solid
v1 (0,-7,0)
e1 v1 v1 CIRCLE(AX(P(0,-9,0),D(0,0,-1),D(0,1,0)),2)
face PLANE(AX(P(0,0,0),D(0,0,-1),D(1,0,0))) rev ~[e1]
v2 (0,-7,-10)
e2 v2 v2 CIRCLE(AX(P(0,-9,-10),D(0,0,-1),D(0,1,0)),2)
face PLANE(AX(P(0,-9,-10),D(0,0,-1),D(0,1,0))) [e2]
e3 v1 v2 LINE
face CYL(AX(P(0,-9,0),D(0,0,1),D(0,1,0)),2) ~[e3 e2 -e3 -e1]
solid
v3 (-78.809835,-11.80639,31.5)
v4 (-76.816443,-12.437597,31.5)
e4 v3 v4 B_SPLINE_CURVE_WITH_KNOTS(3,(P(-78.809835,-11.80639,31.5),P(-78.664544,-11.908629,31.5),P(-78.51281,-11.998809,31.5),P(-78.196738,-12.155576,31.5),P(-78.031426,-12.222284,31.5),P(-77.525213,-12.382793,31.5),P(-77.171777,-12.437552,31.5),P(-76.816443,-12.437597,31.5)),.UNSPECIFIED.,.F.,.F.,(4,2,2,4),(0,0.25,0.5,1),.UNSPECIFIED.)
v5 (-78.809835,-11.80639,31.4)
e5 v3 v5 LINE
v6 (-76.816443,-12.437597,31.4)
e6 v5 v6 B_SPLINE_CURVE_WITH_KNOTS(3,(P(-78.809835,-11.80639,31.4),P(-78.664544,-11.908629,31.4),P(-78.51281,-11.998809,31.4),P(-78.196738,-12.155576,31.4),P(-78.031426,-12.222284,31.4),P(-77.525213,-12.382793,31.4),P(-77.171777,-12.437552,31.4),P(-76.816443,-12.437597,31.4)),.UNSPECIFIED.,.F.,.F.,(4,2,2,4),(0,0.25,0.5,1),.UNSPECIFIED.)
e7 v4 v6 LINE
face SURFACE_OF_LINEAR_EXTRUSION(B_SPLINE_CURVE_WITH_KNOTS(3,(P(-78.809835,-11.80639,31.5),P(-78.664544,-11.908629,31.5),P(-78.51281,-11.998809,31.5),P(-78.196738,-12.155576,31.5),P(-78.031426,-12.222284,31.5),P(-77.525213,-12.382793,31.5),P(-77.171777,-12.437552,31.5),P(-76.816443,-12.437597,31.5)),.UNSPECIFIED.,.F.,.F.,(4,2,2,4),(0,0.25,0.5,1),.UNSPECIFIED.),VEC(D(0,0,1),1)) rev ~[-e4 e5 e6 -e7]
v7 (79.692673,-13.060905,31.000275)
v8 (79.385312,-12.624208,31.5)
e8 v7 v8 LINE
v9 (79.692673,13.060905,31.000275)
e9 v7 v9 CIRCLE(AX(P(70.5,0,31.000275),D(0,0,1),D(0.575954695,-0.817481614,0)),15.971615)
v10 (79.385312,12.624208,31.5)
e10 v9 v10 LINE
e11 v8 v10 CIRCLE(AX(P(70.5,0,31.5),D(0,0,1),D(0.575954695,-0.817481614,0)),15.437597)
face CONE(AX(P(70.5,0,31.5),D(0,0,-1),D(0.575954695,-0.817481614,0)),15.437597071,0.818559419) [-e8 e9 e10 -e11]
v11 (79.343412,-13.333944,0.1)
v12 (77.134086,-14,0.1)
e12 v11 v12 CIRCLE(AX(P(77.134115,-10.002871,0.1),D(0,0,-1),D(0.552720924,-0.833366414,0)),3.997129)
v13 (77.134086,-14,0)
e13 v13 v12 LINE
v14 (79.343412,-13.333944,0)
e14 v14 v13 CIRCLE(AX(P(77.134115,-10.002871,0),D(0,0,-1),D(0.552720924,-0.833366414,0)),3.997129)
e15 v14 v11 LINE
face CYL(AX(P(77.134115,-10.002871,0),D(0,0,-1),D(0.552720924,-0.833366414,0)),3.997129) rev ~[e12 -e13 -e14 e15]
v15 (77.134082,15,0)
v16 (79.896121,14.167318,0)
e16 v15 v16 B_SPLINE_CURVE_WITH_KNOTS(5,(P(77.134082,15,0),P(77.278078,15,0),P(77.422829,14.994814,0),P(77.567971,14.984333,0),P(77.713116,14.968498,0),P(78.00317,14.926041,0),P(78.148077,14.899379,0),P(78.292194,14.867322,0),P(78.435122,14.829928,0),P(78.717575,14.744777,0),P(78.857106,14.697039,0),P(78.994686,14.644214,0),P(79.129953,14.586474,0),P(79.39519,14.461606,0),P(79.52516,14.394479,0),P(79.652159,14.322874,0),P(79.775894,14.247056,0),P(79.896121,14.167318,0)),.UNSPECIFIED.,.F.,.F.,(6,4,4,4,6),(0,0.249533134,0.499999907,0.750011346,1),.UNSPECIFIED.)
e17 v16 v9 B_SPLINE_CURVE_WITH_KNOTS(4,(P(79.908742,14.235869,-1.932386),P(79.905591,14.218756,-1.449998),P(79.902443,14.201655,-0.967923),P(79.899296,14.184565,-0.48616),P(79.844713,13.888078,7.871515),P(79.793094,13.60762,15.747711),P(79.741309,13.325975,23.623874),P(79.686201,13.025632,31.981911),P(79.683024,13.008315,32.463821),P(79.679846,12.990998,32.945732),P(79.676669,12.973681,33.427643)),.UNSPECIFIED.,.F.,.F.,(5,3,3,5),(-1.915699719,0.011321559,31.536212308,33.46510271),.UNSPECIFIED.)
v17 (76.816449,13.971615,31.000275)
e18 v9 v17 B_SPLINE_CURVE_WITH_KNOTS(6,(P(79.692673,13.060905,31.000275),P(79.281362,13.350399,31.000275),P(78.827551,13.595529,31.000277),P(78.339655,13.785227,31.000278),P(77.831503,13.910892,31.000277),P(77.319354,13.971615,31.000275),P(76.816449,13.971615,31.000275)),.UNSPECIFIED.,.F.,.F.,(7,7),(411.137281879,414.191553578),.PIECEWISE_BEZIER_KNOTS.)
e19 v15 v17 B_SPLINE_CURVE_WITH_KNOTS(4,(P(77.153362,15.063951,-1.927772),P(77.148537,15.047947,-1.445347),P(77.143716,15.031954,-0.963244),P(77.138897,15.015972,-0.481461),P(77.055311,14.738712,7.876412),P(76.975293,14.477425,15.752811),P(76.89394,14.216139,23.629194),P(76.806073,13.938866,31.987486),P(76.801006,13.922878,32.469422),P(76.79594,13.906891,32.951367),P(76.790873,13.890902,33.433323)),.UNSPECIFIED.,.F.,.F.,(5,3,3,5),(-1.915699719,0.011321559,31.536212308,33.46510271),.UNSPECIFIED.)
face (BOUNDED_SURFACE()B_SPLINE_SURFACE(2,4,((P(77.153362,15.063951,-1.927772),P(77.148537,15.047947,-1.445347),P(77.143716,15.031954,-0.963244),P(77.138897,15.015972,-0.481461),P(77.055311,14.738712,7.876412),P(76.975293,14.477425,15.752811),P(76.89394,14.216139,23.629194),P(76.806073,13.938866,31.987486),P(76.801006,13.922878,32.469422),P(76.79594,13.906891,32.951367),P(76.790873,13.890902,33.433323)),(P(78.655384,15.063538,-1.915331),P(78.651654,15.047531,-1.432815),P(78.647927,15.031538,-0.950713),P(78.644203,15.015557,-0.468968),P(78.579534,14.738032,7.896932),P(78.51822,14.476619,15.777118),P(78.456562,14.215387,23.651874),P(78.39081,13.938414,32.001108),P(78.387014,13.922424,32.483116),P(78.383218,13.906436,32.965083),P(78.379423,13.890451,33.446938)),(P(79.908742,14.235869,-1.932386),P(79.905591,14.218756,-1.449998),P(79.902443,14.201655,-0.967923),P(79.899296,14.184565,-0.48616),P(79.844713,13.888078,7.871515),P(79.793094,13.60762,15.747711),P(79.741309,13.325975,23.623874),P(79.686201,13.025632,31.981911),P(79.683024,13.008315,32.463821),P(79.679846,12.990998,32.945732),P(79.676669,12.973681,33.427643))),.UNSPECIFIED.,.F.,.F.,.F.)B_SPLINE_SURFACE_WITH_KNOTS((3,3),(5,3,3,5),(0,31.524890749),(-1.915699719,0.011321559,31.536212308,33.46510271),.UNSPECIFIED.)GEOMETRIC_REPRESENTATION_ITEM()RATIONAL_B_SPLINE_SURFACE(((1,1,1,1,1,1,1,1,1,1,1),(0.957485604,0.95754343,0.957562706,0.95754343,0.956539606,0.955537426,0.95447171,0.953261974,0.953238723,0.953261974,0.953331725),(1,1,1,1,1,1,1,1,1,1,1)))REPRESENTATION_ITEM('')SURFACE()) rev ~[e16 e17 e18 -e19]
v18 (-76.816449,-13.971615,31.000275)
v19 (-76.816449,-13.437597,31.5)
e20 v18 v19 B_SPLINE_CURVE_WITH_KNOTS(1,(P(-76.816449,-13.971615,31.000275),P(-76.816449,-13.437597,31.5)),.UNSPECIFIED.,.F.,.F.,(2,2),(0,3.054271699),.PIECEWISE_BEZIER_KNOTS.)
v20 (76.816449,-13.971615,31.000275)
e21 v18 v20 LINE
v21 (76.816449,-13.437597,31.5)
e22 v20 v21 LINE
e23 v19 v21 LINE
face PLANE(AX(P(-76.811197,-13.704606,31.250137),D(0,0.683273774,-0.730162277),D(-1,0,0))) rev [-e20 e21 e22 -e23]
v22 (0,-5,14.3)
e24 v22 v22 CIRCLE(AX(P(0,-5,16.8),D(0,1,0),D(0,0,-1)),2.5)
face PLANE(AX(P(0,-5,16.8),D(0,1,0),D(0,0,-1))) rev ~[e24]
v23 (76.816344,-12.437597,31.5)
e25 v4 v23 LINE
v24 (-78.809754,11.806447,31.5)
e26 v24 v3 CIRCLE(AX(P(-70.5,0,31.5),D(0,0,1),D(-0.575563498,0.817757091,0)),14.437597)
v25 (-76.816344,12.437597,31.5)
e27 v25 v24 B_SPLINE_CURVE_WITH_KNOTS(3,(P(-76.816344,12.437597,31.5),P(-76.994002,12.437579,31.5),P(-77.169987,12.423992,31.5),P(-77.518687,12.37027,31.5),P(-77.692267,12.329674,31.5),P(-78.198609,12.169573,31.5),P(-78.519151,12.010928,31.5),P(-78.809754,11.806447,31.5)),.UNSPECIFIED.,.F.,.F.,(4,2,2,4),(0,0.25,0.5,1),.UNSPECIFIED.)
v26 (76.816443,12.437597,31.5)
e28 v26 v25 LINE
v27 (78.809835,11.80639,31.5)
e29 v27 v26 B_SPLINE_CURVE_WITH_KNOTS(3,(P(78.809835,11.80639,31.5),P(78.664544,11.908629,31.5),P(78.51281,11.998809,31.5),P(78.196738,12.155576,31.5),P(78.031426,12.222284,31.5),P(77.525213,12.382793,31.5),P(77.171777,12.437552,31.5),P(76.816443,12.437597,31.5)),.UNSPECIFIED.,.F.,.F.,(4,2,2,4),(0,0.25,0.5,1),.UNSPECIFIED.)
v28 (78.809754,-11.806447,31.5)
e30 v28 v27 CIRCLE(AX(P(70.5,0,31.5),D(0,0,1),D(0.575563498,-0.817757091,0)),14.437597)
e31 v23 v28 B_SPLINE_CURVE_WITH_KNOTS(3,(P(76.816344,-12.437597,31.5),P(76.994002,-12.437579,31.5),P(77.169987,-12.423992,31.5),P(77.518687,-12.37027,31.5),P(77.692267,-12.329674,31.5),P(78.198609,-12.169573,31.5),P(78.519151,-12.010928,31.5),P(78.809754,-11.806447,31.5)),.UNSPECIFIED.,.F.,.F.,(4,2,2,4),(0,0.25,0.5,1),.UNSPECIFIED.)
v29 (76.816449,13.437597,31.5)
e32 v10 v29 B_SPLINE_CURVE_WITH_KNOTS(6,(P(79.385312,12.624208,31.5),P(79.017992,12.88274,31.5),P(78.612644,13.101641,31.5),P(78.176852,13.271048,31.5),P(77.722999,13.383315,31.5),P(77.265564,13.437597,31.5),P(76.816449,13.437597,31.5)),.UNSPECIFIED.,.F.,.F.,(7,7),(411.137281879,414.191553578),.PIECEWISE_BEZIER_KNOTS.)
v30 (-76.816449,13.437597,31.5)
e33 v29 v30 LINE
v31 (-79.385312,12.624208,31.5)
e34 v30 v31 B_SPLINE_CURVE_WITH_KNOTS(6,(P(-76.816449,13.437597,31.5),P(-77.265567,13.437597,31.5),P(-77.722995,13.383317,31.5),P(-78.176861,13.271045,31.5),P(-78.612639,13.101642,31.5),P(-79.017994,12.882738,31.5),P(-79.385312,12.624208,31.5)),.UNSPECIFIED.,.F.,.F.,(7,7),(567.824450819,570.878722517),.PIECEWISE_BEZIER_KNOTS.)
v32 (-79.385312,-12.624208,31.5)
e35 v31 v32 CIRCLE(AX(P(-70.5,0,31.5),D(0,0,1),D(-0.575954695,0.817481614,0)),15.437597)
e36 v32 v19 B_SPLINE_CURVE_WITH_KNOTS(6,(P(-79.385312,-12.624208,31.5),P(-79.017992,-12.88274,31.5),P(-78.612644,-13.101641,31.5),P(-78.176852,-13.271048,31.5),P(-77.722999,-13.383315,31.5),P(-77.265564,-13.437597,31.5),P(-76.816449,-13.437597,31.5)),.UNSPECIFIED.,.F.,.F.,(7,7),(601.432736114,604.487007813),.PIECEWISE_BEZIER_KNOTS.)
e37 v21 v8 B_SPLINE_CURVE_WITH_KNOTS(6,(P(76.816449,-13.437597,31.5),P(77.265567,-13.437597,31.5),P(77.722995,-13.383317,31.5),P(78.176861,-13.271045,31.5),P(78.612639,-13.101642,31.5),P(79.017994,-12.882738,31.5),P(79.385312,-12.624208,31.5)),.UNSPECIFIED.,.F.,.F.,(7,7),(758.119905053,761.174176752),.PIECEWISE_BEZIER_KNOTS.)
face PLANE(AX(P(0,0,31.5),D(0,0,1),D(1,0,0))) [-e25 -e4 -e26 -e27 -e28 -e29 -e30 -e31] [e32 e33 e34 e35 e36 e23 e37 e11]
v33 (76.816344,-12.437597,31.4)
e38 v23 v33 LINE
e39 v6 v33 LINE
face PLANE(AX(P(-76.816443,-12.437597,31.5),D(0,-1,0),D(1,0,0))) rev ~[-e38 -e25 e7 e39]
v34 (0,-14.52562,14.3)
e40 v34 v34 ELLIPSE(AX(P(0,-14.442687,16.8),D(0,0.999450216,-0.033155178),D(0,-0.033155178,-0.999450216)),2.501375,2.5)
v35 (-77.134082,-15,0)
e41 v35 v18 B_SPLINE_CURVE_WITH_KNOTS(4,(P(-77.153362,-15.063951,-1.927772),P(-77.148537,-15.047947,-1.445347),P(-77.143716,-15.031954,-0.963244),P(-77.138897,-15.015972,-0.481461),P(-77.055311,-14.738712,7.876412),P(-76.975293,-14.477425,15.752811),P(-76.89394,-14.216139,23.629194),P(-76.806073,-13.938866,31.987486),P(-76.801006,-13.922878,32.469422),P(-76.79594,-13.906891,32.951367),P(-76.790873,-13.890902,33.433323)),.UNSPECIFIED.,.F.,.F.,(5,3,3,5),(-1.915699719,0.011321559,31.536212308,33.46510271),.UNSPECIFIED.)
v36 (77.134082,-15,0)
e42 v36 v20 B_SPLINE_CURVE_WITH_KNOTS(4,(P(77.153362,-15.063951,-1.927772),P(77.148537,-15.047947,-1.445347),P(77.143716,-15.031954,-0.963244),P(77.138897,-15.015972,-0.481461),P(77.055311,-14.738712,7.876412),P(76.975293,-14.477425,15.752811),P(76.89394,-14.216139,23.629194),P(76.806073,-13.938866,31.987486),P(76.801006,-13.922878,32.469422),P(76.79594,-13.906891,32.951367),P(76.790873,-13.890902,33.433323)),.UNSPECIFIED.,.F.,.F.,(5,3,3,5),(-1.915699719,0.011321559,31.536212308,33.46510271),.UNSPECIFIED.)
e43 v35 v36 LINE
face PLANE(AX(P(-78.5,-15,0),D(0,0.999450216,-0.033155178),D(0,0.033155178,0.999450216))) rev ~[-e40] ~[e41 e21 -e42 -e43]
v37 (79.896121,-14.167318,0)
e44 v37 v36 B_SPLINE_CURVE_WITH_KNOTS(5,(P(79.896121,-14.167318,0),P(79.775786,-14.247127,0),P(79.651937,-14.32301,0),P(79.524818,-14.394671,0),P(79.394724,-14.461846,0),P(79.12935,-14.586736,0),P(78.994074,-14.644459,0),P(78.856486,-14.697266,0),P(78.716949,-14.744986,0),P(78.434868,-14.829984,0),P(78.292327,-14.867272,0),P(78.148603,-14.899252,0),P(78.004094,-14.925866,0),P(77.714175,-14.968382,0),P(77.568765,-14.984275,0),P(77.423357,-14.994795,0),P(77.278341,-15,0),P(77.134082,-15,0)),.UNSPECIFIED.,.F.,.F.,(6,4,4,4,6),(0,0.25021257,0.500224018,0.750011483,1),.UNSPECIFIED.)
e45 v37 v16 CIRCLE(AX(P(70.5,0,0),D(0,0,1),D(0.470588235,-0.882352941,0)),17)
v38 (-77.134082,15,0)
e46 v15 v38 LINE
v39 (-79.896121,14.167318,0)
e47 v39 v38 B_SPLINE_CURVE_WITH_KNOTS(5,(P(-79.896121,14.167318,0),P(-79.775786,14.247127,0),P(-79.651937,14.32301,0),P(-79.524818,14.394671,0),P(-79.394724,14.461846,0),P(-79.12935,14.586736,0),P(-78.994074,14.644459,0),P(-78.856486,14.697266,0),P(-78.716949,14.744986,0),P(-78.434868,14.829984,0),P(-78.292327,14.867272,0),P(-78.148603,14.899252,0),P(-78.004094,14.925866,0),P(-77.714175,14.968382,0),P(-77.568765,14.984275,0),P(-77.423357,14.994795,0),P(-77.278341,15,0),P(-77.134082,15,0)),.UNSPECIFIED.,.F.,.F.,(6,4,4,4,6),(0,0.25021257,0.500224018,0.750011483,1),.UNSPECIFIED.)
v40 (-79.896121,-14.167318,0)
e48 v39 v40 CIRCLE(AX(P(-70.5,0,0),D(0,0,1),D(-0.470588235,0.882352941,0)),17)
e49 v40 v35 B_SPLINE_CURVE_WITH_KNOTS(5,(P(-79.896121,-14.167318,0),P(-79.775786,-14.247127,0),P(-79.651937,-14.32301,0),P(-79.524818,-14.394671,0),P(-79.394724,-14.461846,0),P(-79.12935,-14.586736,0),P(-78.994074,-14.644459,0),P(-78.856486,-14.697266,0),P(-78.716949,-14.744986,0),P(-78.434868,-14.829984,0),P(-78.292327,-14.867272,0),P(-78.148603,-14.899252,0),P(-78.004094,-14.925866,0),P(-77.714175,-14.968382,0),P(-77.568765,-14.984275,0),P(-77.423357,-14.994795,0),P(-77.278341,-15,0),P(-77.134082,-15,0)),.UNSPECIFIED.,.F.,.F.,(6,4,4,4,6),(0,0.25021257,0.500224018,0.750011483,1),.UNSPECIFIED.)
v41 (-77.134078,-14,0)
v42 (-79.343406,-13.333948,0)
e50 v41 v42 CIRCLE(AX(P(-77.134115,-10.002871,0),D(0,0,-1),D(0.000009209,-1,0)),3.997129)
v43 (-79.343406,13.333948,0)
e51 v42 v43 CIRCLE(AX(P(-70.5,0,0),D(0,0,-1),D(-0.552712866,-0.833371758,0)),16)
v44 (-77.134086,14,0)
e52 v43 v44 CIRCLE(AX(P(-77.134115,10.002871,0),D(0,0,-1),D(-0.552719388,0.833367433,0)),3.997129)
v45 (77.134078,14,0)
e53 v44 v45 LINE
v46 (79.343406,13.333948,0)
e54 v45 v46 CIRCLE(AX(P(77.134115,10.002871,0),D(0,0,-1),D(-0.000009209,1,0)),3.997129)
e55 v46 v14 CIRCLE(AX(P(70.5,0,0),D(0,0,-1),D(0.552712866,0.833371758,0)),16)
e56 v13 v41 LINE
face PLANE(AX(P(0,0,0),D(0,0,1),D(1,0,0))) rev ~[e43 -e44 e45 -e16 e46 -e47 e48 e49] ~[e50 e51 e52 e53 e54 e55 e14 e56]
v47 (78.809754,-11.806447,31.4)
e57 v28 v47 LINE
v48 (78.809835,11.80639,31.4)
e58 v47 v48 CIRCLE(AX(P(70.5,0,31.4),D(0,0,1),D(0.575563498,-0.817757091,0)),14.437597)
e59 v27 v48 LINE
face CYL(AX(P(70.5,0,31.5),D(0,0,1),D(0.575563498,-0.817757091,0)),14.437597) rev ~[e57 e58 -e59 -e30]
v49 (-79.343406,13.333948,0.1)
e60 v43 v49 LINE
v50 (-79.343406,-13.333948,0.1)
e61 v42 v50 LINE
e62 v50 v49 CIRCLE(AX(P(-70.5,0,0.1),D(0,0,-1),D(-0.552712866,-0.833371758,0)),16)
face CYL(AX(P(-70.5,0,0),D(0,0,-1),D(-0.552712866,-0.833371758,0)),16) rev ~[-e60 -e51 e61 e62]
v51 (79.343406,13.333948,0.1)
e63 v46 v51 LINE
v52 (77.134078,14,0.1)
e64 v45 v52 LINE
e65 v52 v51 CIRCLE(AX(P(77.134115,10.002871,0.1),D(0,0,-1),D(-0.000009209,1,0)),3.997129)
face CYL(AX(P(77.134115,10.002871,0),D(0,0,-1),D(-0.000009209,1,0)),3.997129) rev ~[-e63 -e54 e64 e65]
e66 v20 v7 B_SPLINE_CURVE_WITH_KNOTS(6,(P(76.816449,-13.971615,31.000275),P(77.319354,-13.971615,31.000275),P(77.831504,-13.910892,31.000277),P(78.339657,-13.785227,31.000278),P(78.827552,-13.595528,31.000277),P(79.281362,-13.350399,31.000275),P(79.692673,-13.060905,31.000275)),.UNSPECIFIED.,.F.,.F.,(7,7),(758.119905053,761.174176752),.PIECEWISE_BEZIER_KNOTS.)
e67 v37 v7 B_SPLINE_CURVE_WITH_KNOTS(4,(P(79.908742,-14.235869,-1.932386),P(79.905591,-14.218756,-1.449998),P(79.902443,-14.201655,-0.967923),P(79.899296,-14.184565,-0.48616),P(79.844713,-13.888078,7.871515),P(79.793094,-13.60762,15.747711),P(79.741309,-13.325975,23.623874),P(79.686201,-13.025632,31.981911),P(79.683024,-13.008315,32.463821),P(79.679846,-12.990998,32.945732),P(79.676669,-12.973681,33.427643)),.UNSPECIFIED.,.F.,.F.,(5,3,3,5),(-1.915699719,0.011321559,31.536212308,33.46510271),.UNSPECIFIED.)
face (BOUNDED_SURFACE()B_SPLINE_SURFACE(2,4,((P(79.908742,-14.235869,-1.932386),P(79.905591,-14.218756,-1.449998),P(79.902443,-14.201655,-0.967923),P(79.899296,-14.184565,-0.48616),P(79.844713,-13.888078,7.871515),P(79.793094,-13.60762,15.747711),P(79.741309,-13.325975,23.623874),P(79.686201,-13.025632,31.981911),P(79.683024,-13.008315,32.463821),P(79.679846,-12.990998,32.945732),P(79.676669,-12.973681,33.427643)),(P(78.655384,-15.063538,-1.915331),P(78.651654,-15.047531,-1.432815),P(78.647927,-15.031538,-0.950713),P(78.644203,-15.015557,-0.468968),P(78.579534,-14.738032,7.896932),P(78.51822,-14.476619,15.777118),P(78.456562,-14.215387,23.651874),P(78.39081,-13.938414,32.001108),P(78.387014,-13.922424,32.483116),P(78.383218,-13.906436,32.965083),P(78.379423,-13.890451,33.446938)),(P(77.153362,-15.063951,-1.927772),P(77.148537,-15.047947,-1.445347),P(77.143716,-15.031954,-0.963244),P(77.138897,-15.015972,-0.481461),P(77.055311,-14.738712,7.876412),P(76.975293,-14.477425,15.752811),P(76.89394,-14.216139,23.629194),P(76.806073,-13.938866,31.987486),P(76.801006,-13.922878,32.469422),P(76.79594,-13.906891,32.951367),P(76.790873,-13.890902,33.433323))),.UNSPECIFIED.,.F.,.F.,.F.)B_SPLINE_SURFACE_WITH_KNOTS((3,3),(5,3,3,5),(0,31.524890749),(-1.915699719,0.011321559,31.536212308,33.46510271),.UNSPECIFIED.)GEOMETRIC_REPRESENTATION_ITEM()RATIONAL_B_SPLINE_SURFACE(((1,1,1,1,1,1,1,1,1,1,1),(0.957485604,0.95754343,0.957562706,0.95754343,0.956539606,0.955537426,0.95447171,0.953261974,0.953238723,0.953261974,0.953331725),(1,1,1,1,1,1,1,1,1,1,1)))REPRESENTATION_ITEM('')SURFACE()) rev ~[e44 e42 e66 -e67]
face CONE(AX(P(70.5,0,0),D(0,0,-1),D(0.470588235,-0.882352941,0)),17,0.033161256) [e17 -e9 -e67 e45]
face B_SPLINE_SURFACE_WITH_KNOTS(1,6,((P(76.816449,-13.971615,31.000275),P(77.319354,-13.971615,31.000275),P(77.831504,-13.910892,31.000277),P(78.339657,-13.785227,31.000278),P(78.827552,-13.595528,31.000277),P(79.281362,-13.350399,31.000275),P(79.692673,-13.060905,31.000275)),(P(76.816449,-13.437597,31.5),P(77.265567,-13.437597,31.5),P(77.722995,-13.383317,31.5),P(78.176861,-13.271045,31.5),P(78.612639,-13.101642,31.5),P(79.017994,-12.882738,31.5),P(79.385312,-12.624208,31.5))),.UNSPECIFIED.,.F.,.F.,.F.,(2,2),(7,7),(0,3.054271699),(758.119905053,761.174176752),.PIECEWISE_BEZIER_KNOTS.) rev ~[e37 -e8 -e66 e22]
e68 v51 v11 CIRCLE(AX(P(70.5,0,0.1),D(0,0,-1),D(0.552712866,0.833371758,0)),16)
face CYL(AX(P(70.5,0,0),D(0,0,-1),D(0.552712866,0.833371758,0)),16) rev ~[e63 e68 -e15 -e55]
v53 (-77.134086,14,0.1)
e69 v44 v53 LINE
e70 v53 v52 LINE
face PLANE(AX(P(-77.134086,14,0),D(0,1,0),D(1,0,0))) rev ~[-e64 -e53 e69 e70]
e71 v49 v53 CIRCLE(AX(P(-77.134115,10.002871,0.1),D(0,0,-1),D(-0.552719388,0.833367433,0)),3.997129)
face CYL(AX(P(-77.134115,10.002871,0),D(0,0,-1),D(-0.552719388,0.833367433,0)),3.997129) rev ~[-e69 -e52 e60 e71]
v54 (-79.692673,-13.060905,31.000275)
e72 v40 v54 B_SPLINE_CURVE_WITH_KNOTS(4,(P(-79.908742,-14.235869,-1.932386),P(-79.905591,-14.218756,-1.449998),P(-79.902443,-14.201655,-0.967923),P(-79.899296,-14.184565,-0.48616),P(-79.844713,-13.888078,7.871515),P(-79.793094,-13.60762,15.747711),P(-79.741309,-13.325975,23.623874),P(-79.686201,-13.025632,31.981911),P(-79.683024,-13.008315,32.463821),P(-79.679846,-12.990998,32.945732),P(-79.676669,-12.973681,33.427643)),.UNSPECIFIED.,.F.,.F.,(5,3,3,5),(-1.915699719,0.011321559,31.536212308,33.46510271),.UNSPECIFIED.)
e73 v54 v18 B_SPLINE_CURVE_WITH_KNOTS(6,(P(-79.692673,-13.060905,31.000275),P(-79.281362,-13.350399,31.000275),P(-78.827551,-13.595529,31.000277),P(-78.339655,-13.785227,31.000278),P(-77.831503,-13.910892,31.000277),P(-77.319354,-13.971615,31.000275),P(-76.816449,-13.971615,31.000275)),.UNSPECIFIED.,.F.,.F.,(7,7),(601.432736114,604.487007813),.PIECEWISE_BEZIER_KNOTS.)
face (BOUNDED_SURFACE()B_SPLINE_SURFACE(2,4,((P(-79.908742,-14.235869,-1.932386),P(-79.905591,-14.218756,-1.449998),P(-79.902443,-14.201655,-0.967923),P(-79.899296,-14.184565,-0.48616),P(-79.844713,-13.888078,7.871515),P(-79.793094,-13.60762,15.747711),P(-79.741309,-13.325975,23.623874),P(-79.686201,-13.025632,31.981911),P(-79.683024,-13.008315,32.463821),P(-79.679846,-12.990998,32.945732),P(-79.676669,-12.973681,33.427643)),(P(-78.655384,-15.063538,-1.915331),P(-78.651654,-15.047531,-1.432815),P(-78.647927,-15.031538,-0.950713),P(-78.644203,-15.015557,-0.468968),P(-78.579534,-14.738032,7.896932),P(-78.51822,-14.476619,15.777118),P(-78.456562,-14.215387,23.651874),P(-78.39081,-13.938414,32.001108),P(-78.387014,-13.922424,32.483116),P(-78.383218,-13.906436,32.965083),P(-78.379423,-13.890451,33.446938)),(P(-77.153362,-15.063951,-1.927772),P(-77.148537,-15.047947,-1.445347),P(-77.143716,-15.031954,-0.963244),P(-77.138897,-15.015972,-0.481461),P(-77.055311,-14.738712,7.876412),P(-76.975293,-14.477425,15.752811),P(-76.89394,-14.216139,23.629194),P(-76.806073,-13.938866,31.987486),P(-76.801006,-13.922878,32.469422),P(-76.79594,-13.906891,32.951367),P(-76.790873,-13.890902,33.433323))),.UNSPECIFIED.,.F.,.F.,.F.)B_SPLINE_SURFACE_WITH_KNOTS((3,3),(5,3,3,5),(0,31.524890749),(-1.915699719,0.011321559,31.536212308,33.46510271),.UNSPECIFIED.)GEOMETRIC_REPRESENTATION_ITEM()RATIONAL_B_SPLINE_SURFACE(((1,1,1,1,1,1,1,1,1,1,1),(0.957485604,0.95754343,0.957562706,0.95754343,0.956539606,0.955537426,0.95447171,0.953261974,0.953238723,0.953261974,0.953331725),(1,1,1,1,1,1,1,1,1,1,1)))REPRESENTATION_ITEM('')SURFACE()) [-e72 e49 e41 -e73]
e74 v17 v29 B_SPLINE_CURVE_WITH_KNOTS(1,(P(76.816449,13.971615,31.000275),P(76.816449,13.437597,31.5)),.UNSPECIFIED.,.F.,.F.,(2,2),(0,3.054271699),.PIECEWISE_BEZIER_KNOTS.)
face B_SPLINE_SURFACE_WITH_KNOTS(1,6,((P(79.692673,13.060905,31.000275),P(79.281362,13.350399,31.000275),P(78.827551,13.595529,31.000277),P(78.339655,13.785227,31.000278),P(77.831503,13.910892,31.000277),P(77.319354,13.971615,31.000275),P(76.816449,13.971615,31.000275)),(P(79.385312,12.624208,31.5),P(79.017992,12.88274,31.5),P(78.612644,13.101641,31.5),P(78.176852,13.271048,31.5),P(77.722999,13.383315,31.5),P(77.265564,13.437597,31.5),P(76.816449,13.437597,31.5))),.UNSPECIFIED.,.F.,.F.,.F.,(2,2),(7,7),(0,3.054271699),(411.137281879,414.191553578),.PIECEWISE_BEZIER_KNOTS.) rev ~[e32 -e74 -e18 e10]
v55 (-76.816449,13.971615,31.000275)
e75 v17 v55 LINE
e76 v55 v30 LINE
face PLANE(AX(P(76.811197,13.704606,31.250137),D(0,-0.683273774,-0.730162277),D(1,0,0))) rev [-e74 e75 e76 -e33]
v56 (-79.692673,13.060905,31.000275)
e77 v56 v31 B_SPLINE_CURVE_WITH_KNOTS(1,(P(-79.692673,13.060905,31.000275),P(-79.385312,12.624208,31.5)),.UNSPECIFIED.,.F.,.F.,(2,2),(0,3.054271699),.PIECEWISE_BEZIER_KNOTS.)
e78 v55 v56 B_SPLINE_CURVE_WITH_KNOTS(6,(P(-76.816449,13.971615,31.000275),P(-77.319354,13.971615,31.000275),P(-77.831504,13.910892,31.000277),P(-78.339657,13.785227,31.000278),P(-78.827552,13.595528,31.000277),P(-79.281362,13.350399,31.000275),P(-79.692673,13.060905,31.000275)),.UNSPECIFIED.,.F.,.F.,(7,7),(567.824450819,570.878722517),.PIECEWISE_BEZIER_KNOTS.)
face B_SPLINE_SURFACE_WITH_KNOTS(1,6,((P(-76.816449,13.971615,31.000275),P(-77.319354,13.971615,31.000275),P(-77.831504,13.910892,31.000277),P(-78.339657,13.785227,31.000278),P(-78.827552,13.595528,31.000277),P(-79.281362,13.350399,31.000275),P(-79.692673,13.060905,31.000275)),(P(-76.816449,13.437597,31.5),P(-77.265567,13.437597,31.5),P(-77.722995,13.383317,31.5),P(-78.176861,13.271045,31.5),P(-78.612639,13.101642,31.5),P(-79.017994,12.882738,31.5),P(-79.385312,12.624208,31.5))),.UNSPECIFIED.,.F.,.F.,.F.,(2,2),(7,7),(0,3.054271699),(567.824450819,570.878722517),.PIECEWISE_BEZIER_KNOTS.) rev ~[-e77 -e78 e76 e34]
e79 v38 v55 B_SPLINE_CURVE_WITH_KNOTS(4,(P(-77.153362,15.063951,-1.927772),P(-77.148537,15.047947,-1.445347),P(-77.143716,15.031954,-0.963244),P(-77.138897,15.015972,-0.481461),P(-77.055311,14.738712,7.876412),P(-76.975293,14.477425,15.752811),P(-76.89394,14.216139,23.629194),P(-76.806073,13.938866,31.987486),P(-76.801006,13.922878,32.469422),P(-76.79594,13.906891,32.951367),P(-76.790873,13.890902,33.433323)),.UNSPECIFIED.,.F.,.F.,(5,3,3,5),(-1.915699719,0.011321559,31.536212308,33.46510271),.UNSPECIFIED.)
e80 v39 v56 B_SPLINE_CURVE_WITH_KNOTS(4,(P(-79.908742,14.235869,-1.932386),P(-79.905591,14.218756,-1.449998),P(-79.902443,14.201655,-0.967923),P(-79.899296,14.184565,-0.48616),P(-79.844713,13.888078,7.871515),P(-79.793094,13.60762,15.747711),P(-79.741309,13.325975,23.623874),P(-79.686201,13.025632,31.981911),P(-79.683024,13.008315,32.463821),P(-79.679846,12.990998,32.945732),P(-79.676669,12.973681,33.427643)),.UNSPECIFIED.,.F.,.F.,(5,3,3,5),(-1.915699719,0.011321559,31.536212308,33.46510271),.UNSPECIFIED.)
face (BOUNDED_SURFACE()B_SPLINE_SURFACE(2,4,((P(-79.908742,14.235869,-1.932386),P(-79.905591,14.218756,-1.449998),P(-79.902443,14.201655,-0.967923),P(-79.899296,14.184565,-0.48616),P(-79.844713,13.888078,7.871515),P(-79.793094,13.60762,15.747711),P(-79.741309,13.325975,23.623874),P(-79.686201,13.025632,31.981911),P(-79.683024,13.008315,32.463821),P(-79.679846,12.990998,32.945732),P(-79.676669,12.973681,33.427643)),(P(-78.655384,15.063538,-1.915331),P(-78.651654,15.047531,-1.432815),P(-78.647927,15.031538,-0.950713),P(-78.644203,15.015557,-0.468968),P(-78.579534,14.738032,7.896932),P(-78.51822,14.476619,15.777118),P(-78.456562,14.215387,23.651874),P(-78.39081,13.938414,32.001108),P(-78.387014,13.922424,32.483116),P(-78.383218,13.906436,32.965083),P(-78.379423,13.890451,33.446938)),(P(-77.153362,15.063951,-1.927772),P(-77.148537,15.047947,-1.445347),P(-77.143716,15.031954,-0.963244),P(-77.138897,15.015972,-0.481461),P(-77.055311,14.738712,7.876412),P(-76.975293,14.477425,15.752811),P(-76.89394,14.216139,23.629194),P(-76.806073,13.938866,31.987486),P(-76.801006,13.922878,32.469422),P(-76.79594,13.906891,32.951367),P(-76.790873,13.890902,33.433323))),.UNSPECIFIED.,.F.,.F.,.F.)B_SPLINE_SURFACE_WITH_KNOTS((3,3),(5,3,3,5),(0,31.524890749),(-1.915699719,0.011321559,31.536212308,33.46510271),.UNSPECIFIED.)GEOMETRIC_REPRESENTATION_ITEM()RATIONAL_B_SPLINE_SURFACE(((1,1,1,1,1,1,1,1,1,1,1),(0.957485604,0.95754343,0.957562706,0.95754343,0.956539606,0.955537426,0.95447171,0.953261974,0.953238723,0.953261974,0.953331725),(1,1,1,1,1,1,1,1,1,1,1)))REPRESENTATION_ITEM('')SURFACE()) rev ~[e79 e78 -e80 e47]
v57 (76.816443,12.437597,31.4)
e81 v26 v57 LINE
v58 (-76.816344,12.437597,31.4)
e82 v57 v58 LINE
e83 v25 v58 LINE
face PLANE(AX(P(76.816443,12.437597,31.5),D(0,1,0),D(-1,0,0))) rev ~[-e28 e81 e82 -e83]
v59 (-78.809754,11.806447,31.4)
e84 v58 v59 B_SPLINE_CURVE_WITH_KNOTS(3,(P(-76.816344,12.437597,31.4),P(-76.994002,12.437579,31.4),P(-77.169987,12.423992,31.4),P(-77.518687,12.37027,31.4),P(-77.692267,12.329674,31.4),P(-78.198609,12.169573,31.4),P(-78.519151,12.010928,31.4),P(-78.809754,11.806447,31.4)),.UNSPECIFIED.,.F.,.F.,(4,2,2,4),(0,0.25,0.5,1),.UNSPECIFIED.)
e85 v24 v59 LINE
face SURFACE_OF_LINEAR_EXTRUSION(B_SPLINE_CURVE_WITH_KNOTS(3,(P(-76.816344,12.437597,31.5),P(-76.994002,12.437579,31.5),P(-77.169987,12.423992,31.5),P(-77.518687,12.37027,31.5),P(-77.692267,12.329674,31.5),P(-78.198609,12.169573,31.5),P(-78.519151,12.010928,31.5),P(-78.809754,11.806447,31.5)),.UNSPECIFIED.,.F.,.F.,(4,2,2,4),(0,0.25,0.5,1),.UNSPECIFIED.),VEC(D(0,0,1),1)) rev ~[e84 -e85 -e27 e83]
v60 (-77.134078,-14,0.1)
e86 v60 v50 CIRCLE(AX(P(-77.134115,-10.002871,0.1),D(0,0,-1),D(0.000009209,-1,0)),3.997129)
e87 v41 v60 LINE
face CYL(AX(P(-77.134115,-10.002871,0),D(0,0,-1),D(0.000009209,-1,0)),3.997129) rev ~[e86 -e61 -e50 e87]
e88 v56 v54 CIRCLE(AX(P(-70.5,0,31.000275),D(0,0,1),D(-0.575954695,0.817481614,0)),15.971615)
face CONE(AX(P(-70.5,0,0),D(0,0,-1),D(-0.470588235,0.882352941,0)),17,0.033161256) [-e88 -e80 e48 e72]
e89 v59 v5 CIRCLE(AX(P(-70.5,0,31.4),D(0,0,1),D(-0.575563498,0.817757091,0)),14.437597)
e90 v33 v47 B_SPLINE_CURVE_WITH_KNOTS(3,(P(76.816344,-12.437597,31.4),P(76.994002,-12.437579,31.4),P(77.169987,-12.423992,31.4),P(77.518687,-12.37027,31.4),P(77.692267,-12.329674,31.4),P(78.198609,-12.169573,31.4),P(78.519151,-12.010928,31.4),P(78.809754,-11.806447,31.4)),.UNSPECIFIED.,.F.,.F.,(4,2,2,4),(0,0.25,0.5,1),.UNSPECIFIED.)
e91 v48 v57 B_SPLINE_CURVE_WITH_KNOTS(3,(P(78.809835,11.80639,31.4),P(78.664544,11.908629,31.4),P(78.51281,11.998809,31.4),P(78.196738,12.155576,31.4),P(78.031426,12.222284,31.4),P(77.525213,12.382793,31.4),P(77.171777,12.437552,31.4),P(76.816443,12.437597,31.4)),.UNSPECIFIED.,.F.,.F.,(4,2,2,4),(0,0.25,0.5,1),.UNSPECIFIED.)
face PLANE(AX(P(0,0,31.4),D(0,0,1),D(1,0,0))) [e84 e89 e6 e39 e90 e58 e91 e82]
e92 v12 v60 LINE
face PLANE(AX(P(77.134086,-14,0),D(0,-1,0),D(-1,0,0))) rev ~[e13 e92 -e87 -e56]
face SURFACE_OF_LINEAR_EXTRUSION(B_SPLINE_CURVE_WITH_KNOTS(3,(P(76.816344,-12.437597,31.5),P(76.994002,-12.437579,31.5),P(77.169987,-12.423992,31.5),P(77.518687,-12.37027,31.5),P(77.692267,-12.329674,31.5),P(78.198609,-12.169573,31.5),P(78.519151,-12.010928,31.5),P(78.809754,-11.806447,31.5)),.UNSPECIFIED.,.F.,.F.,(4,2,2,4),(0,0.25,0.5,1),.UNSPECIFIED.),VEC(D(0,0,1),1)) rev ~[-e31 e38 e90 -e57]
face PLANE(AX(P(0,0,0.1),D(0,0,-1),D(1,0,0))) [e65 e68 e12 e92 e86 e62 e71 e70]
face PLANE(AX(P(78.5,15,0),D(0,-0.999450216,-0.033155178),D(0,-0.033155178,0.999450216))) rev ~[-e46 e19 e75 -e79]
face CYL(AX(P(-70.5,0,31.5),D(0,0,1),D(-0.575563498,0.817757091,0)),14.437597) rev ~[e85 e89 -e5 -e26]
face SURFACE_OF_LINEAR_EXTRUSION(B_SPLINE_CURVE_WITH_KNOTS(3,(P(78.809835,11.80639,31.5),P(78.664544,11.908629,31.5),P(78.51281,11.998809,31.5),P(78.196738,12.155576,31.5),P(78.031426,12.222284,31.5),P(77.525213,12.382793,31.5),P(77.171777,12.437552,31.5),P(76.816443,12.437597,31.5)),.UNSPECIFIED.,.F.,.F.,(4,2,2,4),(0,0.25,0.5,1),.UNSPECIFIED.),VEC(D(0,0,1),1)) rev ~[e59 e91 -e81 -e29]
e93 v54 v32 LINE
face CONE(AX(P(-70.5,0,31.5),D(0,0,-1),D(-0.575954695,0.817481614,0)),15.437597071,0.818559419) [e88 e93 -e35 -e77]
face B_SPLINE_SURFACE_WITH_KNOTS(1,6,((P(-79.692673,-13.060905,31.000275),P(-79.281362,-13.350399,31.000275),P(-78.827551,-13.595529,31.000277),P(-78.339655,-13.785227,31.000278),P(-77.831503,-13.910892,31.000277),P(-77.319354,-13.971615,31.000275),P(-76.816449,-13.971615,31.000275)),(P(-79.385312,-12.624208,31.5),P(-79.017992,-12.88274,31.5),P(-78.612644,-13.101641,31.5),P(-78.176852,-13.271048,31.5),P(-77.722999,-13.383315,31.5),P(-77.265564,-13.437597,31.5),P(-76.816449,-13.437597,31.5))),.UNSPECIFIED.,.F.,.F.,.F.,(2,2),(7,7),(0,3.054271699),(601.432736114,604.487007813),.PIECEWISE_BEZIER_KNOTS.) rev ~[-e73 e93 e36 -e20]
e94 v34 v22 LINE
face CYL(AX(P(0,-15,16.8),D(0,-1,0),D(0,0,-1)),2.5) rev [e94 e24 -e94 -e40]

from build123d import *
from OCP.BRepFilletAPI import BRepFilletAPI_MakeChamfer

# Parameters (mm, degrees)
BOSS_EXTRUDE1_DEPTH = 31.5
BOSS_EXTRUDE1_TAPER = 1.9
FILLET1_R           = 5
CHAMFER2_SIZE       = 0.5
CHAMFER2_SIZE2      = 0.517440306
CHAMFER2_SIZE2_2    = 0.518340503
SKETCH2_R           = 2
BOSS_EXTRUDE2_DEPTH = 10
CUT_EXTRUDE2_DEPTH  = 0.1
CUT_EXTRUDE3_DEPTH  = 0.1
SKETCH5_R           = 2.5
CUT_EXTRUDE4_DEPTH  = 10


with BuildPart() as part:
    # Sketch1 → Boss-Extrude1 (new body)
    with BuildSketch(Plane.XY):
        with BuildLine():
            ThreePointArc((-78.5, 15), (-87.5, 0), (-78.5, -15))
            Line((-78.5, -15), (78.5, -15))
            ThreePointArc((78.5, -15), (87.5, 0), (78.5, 15))
            Line((78.5, 15), (-78.5, 15))
        make_face()
    extrude(amount=BOSS_EXTRUDE1_DEPTH, taper=BOSS_EXTRUDE1_TAPER)

    # Fillet1
    fillet1_edges = [part.edges().sort_by_distance(p)[0] for p in [
        (78.368295463, -14.477518375, 15.750009445),
        (-78.368295463, -14.477518375, 15.750009445),
        (-78.368295463, 14.477518375, 15.750009445),
        (78.368295463, 14.477518375, 15.750009445),
    ]]
    fillet(fillet1_edges, radius=FILLET1_R)

    # Chamfer2: one chamfer whose edges measure the first distance from different faces: ONE call of the kernel's chamfer builder (chamfer() names one face for all edges)
    chamfer2_edges_1 = [part.edges().sort_by_distance(p)[0] for p in [
        (86.455037377, 0, 31.5),
    ]]
    chamfer2_side_1 = [part.faces().sort_by_distance(p)[0] for p in [
        (86.977518688, 0, 15.75),
    ]]
    chamfer2_edges_2 = [part.edges().sort_by_distance(p)[0] for p in [
        (78.320821147, 13.721567571, 31.5),
    ]]
    chamfer2_side_2 = [part.faces().sort_by_distance(p)[0] for p in [
        (78.449460209, 14.254751063, 15.755250867),
    ]]
    chamfer2_edges_3 = [part.edges().sort_by_distance(p)[0] for p in [
        (78.320821147, -13.721567571, 31.5),
    ]]
    chamfer2_side_3 = [part.faces().sort_by_distance(p)[0] for p in [
        (78.449460207, -14.254751054, 15.755251143),
    ]]
    chamfer2_edges_4 = [part.edges().sort_by_distance(p)[0] for p in [
        (0, 13.955037377, 31.5),
    ]]
    chamfer2_side_4 = [part.faces().sort_by_distance(p)[0] for p in [
        (0, 14.477883921, 15.738990209),
    ]]
    chamfer2_edges_5 = [part.edges().sort_by_distance(p)[0] for p in [
        (0, -13.955037377, 31.5),
    ]]
    chamfer2_side_5 = [part.faces().sort_by_distance(p)[0] for p in [
        (0, -14.477883921, 15.738990209),
    ]]
    chamfer2_edges_6 = [part.edges().sort_by_distance(p)[0] for p in [
        (-78.320821147, 13.721567571, 31.5),
    ]]
    chamfer2_side_6 = [part.faces().sort_by_distance(p)[0] for p in [
        (-78.449460209, 14.254751063, 15.755250867),
    ]]
    chamfer2_edges_7 = [part.edges().sort_by_distance(p)[0] for p in [
        (-78.320821147, -13.721567571, 31.5),
    ]]
    chamfer2_side_7 = [part.faces().sort_by_distance(p)[0] for p in [
        (-78.449460209, -14.254751063, 15.755250867),
    ]]
    chamfer2_edges_8 = [part.edges().sort_by_distance(p)[0] for p in [
        (-86.455037377, 0, 31.5),
    ]]
    chamfer2_side_8 = [part.faces().sort_by_distance(p)[0] for p in [
        (-86.977518688, 0, 15.75),
    ]]
    chamfer2 = BRepFilletAPI_MakeChamfer(part.part.solid().wrapped)
    for e in chamfer2_edges_1:
        chamfer2.Add(CHAMFER2_SIZE, CHAMFER2_SIZE2, e.wrapped, chamfer2_side_1[0].wrapped)  # the first distance lies on this face
    for e in chamfer2_edges_2:
        chamfer2.Add(CHAMFER2_SIZE, CHAMFER2_SIZE2_2, e.wrapped, chamfer2_side_2[0].wrapped)  # the first distance lies on this face
    for e in chamfer2_edges_3:
        chamfer2.Add(CHAMFER2_SIZE, CHAMFER2_SIZE2_2, e.wrapped, chamfer2_side_3[0].wrapped)  # the first distance lies on this face
    for e in chamfer2_edges_4:
        chamfer2.Add(CHAMFER2_SIZE, CHAMFER2_SIZE2, e.wrapped, chamfer2_side_4[0].wrapped)  # the first distance lies on this face
    for e in chamfer2_edges_5:
        chamfer2.Add(CHAMFER2_SIZE, CHAMFER2_SIZE2, e.wrapped, chamfer2_side_5[0].wrapped)  # the first distance lies on this face
    for e in chamfer2_edges_6:
        chamfer2.Add(CHAMFER2_SIZE, CHAMFER2_SIZE2_2, e.wrapped, chamfer2_side_6[0].wrapped)  # the first distance lies on this face
    for e in chamfer2_edges_7:
        chamfer2.Add(CHAMFER2_SIZE, CHAMFER2_SIZE2_2, e.wrapped, chamfer2_side_7[0].wrapped)  # the first distance lies on this face
    for e in chamfer2_edges_8:
        chamfer2.Add(CHAMFER2_SIZE, CHAMFER2_SIZE2, e.wrapped, chamfer2_side_8[0].wrapped)  # the first distance lies on this face
    add(Compound.cast(chamfer2.Shape()), mode=Mode.REPLACE)

    # Sketch2 → Boss-Extrude2 (add)
    with BuildSketch(Plane(origin=(0, 0, 0), x_dir=(1, 0, 0), z_dir=(0, 0, -1))):
        with Locations(Location((0, 9, 0), (0, 0, 270))):
            Circle(SKETCH2_R)
    extrude(amount=BOSS_EXTRUDE2_DEPTH)

    # Sketch4 → Cut-Extrude2 (cut)
    with BuildSketch(Plane(origin=(0, 0, 0), x_dir=(1, 0, 0), z_dir=(0, 0, -1))):
        with BuildLine():
            Line((77.134085725, 14), (-77.13407836, 14))
            ThreePointArc((-77.13407836, 14), (-78.28785125, 13.829871561), (-79.343405855, 13.333948136))
            ThreePointArc((-79.343405855, 13.333948136), (-86.5, 0), (-79.343405855, -13.333948136))
            ThreePointArc((-79.343405855, -13.333948136), (-78.287854776, -13.829870498), (-77.134085725, -14))
            Line((-77.134085725, -14), (77.13407836, -14))
            ThreePointArc((77.13407836, -14), (78.28785125, -13.829871561), (79.343405855, -13.333948136))
            ThreePointArc((79.343405855, -13.333948136), (86.5, -3.683e-06), (79.343411993, 13.333944065))
            ThreePointArc((79.343411993, 13.333944065), (78.287858302, 13.829869435), (77.134085725, 14))
        make_face()
    extrude(amount=-CUT_EXTRUDE2_DEPTH, mode=Mode.SUBTRACT)


with BuildPart() as cut_extrude2_piece_1:
    # of the separate pieces the step leaves, piece 1, a body of its own (cut_extrude2_pieces)
    add(part.part.solids().sort_by_distance((76.816448619, 13.971614966, 31.000274892))[0])

    # Sketch3 → Cut-Extrude3 (cut)
    with BuildSketch(Plane.XY.offset(31.5)):
        with BuildLine():
            Line((-76.816443267, -12.437597071), (76.816344015, -12.437597076))
            add(Edge.make_bspline(
                [(76.816344015, -12.437597076), (76.994001702, -12.437579443), (77.169987293, -12.423992087), (77.51868719, -12.370269587), (77.692266942, -12.329673515), (78.198608665, -12.169572794), (78.519150863, -12.010927613), (78.809753873, -11.806447381)],
                knots=[0, 0, 0, 0, 0.25, 0.25, 0.5, 0.5, 1, 1, 1, 1], degree=3))
            ThreePointArc((78.809753873, -11.806447381), (84.937597071, -4.9626e-05), (78.80983504, 11.806390259))
            add(Edge.make_bspline(
                [(78.80983504, 11.806390259), (78.664544058, 11.908629119), (78.512810207, 11.998808845), (78.196737684, 12.155575821), (78.031425993, 12.222284265), (77.525213328, 12.382792579), (77.171777297, 12.437551746), (76.816443267, 12.437597071)],
                knots=[0, 0, 0, 0, 0.25, 0.25, 0.5, 0.5, 1, 1, 1, 1], degree=3))
            Line((76.816443267, 12.437597071), (-76.816344015, 12.437597076))
            add(Edge.make_bspline(
                [(-76.816344015, 12.437597076), (-76.994001702, 12.437579443), (-77.169987293, 12.423992087), (-77.51868719, 12.370269587), (-77.692266942, 12.329673515), (-78.198608665, 12.169572794), (-78.519150863, 12.010927613), (-78.809753873, 11.806447381)],
                knots=[0, 0, 0, 0, 0.25, 0.25, 0.5, 0.5, 1, 1, 1, 1], degree=3))
            ThreePointArc((-78.809753873, 11.806447381), (-84.937597071, 4.9626e-05), (-78.80983504, -11.806390259))
            add(Edge.make_bspline(
                [(-78.80983504, -11.806390259), (-78.664544058, -11.908629119), (-78.512810207, -11.998808845), (-78.196737684, -12.155575821), (-78.031425993, -12.222284265), (-77.525213328, -12.382792579), (-77.171777297, -12.437551746), (-76.816443267, -12.437597071)],
                knots=[0, 0, 0, 0, 0.25, 0.25, 0.5, 0.5, 1, 1, 1, 1], degree=3))
        make_face()
    extrude(amount=-CUT_EXTRUDE3_DEPTH, mode=Mode.SUBTRACT)

    # Sketch5 → Cut-Extrude4 (cut)
    with BuildSketch(Plane(origin=(0, -15, 0), x_dir=(1, 0, 0), z_dir=(0, 1, 0))):
        with Locations(Location((0, -16.8, 0), (0, 0, 90))):
            Circle(SKETCH5_R)
    extrude(amount=CUT_EXTRUDE4_DEPTH, mode=Mode.SUBTRACT)


with BuildPart() as cut_extrude2_piece_2:
    # of the separate pieces the step leaves, piece 2, a body of its own (cut_extrude2_pieces)
    add(part.part.solids().sort_by_distance((0, -7, 0))[0])


solid = Compound([cut_extrude2_piece_1.part, cut_extrude2_piece_2.part])
